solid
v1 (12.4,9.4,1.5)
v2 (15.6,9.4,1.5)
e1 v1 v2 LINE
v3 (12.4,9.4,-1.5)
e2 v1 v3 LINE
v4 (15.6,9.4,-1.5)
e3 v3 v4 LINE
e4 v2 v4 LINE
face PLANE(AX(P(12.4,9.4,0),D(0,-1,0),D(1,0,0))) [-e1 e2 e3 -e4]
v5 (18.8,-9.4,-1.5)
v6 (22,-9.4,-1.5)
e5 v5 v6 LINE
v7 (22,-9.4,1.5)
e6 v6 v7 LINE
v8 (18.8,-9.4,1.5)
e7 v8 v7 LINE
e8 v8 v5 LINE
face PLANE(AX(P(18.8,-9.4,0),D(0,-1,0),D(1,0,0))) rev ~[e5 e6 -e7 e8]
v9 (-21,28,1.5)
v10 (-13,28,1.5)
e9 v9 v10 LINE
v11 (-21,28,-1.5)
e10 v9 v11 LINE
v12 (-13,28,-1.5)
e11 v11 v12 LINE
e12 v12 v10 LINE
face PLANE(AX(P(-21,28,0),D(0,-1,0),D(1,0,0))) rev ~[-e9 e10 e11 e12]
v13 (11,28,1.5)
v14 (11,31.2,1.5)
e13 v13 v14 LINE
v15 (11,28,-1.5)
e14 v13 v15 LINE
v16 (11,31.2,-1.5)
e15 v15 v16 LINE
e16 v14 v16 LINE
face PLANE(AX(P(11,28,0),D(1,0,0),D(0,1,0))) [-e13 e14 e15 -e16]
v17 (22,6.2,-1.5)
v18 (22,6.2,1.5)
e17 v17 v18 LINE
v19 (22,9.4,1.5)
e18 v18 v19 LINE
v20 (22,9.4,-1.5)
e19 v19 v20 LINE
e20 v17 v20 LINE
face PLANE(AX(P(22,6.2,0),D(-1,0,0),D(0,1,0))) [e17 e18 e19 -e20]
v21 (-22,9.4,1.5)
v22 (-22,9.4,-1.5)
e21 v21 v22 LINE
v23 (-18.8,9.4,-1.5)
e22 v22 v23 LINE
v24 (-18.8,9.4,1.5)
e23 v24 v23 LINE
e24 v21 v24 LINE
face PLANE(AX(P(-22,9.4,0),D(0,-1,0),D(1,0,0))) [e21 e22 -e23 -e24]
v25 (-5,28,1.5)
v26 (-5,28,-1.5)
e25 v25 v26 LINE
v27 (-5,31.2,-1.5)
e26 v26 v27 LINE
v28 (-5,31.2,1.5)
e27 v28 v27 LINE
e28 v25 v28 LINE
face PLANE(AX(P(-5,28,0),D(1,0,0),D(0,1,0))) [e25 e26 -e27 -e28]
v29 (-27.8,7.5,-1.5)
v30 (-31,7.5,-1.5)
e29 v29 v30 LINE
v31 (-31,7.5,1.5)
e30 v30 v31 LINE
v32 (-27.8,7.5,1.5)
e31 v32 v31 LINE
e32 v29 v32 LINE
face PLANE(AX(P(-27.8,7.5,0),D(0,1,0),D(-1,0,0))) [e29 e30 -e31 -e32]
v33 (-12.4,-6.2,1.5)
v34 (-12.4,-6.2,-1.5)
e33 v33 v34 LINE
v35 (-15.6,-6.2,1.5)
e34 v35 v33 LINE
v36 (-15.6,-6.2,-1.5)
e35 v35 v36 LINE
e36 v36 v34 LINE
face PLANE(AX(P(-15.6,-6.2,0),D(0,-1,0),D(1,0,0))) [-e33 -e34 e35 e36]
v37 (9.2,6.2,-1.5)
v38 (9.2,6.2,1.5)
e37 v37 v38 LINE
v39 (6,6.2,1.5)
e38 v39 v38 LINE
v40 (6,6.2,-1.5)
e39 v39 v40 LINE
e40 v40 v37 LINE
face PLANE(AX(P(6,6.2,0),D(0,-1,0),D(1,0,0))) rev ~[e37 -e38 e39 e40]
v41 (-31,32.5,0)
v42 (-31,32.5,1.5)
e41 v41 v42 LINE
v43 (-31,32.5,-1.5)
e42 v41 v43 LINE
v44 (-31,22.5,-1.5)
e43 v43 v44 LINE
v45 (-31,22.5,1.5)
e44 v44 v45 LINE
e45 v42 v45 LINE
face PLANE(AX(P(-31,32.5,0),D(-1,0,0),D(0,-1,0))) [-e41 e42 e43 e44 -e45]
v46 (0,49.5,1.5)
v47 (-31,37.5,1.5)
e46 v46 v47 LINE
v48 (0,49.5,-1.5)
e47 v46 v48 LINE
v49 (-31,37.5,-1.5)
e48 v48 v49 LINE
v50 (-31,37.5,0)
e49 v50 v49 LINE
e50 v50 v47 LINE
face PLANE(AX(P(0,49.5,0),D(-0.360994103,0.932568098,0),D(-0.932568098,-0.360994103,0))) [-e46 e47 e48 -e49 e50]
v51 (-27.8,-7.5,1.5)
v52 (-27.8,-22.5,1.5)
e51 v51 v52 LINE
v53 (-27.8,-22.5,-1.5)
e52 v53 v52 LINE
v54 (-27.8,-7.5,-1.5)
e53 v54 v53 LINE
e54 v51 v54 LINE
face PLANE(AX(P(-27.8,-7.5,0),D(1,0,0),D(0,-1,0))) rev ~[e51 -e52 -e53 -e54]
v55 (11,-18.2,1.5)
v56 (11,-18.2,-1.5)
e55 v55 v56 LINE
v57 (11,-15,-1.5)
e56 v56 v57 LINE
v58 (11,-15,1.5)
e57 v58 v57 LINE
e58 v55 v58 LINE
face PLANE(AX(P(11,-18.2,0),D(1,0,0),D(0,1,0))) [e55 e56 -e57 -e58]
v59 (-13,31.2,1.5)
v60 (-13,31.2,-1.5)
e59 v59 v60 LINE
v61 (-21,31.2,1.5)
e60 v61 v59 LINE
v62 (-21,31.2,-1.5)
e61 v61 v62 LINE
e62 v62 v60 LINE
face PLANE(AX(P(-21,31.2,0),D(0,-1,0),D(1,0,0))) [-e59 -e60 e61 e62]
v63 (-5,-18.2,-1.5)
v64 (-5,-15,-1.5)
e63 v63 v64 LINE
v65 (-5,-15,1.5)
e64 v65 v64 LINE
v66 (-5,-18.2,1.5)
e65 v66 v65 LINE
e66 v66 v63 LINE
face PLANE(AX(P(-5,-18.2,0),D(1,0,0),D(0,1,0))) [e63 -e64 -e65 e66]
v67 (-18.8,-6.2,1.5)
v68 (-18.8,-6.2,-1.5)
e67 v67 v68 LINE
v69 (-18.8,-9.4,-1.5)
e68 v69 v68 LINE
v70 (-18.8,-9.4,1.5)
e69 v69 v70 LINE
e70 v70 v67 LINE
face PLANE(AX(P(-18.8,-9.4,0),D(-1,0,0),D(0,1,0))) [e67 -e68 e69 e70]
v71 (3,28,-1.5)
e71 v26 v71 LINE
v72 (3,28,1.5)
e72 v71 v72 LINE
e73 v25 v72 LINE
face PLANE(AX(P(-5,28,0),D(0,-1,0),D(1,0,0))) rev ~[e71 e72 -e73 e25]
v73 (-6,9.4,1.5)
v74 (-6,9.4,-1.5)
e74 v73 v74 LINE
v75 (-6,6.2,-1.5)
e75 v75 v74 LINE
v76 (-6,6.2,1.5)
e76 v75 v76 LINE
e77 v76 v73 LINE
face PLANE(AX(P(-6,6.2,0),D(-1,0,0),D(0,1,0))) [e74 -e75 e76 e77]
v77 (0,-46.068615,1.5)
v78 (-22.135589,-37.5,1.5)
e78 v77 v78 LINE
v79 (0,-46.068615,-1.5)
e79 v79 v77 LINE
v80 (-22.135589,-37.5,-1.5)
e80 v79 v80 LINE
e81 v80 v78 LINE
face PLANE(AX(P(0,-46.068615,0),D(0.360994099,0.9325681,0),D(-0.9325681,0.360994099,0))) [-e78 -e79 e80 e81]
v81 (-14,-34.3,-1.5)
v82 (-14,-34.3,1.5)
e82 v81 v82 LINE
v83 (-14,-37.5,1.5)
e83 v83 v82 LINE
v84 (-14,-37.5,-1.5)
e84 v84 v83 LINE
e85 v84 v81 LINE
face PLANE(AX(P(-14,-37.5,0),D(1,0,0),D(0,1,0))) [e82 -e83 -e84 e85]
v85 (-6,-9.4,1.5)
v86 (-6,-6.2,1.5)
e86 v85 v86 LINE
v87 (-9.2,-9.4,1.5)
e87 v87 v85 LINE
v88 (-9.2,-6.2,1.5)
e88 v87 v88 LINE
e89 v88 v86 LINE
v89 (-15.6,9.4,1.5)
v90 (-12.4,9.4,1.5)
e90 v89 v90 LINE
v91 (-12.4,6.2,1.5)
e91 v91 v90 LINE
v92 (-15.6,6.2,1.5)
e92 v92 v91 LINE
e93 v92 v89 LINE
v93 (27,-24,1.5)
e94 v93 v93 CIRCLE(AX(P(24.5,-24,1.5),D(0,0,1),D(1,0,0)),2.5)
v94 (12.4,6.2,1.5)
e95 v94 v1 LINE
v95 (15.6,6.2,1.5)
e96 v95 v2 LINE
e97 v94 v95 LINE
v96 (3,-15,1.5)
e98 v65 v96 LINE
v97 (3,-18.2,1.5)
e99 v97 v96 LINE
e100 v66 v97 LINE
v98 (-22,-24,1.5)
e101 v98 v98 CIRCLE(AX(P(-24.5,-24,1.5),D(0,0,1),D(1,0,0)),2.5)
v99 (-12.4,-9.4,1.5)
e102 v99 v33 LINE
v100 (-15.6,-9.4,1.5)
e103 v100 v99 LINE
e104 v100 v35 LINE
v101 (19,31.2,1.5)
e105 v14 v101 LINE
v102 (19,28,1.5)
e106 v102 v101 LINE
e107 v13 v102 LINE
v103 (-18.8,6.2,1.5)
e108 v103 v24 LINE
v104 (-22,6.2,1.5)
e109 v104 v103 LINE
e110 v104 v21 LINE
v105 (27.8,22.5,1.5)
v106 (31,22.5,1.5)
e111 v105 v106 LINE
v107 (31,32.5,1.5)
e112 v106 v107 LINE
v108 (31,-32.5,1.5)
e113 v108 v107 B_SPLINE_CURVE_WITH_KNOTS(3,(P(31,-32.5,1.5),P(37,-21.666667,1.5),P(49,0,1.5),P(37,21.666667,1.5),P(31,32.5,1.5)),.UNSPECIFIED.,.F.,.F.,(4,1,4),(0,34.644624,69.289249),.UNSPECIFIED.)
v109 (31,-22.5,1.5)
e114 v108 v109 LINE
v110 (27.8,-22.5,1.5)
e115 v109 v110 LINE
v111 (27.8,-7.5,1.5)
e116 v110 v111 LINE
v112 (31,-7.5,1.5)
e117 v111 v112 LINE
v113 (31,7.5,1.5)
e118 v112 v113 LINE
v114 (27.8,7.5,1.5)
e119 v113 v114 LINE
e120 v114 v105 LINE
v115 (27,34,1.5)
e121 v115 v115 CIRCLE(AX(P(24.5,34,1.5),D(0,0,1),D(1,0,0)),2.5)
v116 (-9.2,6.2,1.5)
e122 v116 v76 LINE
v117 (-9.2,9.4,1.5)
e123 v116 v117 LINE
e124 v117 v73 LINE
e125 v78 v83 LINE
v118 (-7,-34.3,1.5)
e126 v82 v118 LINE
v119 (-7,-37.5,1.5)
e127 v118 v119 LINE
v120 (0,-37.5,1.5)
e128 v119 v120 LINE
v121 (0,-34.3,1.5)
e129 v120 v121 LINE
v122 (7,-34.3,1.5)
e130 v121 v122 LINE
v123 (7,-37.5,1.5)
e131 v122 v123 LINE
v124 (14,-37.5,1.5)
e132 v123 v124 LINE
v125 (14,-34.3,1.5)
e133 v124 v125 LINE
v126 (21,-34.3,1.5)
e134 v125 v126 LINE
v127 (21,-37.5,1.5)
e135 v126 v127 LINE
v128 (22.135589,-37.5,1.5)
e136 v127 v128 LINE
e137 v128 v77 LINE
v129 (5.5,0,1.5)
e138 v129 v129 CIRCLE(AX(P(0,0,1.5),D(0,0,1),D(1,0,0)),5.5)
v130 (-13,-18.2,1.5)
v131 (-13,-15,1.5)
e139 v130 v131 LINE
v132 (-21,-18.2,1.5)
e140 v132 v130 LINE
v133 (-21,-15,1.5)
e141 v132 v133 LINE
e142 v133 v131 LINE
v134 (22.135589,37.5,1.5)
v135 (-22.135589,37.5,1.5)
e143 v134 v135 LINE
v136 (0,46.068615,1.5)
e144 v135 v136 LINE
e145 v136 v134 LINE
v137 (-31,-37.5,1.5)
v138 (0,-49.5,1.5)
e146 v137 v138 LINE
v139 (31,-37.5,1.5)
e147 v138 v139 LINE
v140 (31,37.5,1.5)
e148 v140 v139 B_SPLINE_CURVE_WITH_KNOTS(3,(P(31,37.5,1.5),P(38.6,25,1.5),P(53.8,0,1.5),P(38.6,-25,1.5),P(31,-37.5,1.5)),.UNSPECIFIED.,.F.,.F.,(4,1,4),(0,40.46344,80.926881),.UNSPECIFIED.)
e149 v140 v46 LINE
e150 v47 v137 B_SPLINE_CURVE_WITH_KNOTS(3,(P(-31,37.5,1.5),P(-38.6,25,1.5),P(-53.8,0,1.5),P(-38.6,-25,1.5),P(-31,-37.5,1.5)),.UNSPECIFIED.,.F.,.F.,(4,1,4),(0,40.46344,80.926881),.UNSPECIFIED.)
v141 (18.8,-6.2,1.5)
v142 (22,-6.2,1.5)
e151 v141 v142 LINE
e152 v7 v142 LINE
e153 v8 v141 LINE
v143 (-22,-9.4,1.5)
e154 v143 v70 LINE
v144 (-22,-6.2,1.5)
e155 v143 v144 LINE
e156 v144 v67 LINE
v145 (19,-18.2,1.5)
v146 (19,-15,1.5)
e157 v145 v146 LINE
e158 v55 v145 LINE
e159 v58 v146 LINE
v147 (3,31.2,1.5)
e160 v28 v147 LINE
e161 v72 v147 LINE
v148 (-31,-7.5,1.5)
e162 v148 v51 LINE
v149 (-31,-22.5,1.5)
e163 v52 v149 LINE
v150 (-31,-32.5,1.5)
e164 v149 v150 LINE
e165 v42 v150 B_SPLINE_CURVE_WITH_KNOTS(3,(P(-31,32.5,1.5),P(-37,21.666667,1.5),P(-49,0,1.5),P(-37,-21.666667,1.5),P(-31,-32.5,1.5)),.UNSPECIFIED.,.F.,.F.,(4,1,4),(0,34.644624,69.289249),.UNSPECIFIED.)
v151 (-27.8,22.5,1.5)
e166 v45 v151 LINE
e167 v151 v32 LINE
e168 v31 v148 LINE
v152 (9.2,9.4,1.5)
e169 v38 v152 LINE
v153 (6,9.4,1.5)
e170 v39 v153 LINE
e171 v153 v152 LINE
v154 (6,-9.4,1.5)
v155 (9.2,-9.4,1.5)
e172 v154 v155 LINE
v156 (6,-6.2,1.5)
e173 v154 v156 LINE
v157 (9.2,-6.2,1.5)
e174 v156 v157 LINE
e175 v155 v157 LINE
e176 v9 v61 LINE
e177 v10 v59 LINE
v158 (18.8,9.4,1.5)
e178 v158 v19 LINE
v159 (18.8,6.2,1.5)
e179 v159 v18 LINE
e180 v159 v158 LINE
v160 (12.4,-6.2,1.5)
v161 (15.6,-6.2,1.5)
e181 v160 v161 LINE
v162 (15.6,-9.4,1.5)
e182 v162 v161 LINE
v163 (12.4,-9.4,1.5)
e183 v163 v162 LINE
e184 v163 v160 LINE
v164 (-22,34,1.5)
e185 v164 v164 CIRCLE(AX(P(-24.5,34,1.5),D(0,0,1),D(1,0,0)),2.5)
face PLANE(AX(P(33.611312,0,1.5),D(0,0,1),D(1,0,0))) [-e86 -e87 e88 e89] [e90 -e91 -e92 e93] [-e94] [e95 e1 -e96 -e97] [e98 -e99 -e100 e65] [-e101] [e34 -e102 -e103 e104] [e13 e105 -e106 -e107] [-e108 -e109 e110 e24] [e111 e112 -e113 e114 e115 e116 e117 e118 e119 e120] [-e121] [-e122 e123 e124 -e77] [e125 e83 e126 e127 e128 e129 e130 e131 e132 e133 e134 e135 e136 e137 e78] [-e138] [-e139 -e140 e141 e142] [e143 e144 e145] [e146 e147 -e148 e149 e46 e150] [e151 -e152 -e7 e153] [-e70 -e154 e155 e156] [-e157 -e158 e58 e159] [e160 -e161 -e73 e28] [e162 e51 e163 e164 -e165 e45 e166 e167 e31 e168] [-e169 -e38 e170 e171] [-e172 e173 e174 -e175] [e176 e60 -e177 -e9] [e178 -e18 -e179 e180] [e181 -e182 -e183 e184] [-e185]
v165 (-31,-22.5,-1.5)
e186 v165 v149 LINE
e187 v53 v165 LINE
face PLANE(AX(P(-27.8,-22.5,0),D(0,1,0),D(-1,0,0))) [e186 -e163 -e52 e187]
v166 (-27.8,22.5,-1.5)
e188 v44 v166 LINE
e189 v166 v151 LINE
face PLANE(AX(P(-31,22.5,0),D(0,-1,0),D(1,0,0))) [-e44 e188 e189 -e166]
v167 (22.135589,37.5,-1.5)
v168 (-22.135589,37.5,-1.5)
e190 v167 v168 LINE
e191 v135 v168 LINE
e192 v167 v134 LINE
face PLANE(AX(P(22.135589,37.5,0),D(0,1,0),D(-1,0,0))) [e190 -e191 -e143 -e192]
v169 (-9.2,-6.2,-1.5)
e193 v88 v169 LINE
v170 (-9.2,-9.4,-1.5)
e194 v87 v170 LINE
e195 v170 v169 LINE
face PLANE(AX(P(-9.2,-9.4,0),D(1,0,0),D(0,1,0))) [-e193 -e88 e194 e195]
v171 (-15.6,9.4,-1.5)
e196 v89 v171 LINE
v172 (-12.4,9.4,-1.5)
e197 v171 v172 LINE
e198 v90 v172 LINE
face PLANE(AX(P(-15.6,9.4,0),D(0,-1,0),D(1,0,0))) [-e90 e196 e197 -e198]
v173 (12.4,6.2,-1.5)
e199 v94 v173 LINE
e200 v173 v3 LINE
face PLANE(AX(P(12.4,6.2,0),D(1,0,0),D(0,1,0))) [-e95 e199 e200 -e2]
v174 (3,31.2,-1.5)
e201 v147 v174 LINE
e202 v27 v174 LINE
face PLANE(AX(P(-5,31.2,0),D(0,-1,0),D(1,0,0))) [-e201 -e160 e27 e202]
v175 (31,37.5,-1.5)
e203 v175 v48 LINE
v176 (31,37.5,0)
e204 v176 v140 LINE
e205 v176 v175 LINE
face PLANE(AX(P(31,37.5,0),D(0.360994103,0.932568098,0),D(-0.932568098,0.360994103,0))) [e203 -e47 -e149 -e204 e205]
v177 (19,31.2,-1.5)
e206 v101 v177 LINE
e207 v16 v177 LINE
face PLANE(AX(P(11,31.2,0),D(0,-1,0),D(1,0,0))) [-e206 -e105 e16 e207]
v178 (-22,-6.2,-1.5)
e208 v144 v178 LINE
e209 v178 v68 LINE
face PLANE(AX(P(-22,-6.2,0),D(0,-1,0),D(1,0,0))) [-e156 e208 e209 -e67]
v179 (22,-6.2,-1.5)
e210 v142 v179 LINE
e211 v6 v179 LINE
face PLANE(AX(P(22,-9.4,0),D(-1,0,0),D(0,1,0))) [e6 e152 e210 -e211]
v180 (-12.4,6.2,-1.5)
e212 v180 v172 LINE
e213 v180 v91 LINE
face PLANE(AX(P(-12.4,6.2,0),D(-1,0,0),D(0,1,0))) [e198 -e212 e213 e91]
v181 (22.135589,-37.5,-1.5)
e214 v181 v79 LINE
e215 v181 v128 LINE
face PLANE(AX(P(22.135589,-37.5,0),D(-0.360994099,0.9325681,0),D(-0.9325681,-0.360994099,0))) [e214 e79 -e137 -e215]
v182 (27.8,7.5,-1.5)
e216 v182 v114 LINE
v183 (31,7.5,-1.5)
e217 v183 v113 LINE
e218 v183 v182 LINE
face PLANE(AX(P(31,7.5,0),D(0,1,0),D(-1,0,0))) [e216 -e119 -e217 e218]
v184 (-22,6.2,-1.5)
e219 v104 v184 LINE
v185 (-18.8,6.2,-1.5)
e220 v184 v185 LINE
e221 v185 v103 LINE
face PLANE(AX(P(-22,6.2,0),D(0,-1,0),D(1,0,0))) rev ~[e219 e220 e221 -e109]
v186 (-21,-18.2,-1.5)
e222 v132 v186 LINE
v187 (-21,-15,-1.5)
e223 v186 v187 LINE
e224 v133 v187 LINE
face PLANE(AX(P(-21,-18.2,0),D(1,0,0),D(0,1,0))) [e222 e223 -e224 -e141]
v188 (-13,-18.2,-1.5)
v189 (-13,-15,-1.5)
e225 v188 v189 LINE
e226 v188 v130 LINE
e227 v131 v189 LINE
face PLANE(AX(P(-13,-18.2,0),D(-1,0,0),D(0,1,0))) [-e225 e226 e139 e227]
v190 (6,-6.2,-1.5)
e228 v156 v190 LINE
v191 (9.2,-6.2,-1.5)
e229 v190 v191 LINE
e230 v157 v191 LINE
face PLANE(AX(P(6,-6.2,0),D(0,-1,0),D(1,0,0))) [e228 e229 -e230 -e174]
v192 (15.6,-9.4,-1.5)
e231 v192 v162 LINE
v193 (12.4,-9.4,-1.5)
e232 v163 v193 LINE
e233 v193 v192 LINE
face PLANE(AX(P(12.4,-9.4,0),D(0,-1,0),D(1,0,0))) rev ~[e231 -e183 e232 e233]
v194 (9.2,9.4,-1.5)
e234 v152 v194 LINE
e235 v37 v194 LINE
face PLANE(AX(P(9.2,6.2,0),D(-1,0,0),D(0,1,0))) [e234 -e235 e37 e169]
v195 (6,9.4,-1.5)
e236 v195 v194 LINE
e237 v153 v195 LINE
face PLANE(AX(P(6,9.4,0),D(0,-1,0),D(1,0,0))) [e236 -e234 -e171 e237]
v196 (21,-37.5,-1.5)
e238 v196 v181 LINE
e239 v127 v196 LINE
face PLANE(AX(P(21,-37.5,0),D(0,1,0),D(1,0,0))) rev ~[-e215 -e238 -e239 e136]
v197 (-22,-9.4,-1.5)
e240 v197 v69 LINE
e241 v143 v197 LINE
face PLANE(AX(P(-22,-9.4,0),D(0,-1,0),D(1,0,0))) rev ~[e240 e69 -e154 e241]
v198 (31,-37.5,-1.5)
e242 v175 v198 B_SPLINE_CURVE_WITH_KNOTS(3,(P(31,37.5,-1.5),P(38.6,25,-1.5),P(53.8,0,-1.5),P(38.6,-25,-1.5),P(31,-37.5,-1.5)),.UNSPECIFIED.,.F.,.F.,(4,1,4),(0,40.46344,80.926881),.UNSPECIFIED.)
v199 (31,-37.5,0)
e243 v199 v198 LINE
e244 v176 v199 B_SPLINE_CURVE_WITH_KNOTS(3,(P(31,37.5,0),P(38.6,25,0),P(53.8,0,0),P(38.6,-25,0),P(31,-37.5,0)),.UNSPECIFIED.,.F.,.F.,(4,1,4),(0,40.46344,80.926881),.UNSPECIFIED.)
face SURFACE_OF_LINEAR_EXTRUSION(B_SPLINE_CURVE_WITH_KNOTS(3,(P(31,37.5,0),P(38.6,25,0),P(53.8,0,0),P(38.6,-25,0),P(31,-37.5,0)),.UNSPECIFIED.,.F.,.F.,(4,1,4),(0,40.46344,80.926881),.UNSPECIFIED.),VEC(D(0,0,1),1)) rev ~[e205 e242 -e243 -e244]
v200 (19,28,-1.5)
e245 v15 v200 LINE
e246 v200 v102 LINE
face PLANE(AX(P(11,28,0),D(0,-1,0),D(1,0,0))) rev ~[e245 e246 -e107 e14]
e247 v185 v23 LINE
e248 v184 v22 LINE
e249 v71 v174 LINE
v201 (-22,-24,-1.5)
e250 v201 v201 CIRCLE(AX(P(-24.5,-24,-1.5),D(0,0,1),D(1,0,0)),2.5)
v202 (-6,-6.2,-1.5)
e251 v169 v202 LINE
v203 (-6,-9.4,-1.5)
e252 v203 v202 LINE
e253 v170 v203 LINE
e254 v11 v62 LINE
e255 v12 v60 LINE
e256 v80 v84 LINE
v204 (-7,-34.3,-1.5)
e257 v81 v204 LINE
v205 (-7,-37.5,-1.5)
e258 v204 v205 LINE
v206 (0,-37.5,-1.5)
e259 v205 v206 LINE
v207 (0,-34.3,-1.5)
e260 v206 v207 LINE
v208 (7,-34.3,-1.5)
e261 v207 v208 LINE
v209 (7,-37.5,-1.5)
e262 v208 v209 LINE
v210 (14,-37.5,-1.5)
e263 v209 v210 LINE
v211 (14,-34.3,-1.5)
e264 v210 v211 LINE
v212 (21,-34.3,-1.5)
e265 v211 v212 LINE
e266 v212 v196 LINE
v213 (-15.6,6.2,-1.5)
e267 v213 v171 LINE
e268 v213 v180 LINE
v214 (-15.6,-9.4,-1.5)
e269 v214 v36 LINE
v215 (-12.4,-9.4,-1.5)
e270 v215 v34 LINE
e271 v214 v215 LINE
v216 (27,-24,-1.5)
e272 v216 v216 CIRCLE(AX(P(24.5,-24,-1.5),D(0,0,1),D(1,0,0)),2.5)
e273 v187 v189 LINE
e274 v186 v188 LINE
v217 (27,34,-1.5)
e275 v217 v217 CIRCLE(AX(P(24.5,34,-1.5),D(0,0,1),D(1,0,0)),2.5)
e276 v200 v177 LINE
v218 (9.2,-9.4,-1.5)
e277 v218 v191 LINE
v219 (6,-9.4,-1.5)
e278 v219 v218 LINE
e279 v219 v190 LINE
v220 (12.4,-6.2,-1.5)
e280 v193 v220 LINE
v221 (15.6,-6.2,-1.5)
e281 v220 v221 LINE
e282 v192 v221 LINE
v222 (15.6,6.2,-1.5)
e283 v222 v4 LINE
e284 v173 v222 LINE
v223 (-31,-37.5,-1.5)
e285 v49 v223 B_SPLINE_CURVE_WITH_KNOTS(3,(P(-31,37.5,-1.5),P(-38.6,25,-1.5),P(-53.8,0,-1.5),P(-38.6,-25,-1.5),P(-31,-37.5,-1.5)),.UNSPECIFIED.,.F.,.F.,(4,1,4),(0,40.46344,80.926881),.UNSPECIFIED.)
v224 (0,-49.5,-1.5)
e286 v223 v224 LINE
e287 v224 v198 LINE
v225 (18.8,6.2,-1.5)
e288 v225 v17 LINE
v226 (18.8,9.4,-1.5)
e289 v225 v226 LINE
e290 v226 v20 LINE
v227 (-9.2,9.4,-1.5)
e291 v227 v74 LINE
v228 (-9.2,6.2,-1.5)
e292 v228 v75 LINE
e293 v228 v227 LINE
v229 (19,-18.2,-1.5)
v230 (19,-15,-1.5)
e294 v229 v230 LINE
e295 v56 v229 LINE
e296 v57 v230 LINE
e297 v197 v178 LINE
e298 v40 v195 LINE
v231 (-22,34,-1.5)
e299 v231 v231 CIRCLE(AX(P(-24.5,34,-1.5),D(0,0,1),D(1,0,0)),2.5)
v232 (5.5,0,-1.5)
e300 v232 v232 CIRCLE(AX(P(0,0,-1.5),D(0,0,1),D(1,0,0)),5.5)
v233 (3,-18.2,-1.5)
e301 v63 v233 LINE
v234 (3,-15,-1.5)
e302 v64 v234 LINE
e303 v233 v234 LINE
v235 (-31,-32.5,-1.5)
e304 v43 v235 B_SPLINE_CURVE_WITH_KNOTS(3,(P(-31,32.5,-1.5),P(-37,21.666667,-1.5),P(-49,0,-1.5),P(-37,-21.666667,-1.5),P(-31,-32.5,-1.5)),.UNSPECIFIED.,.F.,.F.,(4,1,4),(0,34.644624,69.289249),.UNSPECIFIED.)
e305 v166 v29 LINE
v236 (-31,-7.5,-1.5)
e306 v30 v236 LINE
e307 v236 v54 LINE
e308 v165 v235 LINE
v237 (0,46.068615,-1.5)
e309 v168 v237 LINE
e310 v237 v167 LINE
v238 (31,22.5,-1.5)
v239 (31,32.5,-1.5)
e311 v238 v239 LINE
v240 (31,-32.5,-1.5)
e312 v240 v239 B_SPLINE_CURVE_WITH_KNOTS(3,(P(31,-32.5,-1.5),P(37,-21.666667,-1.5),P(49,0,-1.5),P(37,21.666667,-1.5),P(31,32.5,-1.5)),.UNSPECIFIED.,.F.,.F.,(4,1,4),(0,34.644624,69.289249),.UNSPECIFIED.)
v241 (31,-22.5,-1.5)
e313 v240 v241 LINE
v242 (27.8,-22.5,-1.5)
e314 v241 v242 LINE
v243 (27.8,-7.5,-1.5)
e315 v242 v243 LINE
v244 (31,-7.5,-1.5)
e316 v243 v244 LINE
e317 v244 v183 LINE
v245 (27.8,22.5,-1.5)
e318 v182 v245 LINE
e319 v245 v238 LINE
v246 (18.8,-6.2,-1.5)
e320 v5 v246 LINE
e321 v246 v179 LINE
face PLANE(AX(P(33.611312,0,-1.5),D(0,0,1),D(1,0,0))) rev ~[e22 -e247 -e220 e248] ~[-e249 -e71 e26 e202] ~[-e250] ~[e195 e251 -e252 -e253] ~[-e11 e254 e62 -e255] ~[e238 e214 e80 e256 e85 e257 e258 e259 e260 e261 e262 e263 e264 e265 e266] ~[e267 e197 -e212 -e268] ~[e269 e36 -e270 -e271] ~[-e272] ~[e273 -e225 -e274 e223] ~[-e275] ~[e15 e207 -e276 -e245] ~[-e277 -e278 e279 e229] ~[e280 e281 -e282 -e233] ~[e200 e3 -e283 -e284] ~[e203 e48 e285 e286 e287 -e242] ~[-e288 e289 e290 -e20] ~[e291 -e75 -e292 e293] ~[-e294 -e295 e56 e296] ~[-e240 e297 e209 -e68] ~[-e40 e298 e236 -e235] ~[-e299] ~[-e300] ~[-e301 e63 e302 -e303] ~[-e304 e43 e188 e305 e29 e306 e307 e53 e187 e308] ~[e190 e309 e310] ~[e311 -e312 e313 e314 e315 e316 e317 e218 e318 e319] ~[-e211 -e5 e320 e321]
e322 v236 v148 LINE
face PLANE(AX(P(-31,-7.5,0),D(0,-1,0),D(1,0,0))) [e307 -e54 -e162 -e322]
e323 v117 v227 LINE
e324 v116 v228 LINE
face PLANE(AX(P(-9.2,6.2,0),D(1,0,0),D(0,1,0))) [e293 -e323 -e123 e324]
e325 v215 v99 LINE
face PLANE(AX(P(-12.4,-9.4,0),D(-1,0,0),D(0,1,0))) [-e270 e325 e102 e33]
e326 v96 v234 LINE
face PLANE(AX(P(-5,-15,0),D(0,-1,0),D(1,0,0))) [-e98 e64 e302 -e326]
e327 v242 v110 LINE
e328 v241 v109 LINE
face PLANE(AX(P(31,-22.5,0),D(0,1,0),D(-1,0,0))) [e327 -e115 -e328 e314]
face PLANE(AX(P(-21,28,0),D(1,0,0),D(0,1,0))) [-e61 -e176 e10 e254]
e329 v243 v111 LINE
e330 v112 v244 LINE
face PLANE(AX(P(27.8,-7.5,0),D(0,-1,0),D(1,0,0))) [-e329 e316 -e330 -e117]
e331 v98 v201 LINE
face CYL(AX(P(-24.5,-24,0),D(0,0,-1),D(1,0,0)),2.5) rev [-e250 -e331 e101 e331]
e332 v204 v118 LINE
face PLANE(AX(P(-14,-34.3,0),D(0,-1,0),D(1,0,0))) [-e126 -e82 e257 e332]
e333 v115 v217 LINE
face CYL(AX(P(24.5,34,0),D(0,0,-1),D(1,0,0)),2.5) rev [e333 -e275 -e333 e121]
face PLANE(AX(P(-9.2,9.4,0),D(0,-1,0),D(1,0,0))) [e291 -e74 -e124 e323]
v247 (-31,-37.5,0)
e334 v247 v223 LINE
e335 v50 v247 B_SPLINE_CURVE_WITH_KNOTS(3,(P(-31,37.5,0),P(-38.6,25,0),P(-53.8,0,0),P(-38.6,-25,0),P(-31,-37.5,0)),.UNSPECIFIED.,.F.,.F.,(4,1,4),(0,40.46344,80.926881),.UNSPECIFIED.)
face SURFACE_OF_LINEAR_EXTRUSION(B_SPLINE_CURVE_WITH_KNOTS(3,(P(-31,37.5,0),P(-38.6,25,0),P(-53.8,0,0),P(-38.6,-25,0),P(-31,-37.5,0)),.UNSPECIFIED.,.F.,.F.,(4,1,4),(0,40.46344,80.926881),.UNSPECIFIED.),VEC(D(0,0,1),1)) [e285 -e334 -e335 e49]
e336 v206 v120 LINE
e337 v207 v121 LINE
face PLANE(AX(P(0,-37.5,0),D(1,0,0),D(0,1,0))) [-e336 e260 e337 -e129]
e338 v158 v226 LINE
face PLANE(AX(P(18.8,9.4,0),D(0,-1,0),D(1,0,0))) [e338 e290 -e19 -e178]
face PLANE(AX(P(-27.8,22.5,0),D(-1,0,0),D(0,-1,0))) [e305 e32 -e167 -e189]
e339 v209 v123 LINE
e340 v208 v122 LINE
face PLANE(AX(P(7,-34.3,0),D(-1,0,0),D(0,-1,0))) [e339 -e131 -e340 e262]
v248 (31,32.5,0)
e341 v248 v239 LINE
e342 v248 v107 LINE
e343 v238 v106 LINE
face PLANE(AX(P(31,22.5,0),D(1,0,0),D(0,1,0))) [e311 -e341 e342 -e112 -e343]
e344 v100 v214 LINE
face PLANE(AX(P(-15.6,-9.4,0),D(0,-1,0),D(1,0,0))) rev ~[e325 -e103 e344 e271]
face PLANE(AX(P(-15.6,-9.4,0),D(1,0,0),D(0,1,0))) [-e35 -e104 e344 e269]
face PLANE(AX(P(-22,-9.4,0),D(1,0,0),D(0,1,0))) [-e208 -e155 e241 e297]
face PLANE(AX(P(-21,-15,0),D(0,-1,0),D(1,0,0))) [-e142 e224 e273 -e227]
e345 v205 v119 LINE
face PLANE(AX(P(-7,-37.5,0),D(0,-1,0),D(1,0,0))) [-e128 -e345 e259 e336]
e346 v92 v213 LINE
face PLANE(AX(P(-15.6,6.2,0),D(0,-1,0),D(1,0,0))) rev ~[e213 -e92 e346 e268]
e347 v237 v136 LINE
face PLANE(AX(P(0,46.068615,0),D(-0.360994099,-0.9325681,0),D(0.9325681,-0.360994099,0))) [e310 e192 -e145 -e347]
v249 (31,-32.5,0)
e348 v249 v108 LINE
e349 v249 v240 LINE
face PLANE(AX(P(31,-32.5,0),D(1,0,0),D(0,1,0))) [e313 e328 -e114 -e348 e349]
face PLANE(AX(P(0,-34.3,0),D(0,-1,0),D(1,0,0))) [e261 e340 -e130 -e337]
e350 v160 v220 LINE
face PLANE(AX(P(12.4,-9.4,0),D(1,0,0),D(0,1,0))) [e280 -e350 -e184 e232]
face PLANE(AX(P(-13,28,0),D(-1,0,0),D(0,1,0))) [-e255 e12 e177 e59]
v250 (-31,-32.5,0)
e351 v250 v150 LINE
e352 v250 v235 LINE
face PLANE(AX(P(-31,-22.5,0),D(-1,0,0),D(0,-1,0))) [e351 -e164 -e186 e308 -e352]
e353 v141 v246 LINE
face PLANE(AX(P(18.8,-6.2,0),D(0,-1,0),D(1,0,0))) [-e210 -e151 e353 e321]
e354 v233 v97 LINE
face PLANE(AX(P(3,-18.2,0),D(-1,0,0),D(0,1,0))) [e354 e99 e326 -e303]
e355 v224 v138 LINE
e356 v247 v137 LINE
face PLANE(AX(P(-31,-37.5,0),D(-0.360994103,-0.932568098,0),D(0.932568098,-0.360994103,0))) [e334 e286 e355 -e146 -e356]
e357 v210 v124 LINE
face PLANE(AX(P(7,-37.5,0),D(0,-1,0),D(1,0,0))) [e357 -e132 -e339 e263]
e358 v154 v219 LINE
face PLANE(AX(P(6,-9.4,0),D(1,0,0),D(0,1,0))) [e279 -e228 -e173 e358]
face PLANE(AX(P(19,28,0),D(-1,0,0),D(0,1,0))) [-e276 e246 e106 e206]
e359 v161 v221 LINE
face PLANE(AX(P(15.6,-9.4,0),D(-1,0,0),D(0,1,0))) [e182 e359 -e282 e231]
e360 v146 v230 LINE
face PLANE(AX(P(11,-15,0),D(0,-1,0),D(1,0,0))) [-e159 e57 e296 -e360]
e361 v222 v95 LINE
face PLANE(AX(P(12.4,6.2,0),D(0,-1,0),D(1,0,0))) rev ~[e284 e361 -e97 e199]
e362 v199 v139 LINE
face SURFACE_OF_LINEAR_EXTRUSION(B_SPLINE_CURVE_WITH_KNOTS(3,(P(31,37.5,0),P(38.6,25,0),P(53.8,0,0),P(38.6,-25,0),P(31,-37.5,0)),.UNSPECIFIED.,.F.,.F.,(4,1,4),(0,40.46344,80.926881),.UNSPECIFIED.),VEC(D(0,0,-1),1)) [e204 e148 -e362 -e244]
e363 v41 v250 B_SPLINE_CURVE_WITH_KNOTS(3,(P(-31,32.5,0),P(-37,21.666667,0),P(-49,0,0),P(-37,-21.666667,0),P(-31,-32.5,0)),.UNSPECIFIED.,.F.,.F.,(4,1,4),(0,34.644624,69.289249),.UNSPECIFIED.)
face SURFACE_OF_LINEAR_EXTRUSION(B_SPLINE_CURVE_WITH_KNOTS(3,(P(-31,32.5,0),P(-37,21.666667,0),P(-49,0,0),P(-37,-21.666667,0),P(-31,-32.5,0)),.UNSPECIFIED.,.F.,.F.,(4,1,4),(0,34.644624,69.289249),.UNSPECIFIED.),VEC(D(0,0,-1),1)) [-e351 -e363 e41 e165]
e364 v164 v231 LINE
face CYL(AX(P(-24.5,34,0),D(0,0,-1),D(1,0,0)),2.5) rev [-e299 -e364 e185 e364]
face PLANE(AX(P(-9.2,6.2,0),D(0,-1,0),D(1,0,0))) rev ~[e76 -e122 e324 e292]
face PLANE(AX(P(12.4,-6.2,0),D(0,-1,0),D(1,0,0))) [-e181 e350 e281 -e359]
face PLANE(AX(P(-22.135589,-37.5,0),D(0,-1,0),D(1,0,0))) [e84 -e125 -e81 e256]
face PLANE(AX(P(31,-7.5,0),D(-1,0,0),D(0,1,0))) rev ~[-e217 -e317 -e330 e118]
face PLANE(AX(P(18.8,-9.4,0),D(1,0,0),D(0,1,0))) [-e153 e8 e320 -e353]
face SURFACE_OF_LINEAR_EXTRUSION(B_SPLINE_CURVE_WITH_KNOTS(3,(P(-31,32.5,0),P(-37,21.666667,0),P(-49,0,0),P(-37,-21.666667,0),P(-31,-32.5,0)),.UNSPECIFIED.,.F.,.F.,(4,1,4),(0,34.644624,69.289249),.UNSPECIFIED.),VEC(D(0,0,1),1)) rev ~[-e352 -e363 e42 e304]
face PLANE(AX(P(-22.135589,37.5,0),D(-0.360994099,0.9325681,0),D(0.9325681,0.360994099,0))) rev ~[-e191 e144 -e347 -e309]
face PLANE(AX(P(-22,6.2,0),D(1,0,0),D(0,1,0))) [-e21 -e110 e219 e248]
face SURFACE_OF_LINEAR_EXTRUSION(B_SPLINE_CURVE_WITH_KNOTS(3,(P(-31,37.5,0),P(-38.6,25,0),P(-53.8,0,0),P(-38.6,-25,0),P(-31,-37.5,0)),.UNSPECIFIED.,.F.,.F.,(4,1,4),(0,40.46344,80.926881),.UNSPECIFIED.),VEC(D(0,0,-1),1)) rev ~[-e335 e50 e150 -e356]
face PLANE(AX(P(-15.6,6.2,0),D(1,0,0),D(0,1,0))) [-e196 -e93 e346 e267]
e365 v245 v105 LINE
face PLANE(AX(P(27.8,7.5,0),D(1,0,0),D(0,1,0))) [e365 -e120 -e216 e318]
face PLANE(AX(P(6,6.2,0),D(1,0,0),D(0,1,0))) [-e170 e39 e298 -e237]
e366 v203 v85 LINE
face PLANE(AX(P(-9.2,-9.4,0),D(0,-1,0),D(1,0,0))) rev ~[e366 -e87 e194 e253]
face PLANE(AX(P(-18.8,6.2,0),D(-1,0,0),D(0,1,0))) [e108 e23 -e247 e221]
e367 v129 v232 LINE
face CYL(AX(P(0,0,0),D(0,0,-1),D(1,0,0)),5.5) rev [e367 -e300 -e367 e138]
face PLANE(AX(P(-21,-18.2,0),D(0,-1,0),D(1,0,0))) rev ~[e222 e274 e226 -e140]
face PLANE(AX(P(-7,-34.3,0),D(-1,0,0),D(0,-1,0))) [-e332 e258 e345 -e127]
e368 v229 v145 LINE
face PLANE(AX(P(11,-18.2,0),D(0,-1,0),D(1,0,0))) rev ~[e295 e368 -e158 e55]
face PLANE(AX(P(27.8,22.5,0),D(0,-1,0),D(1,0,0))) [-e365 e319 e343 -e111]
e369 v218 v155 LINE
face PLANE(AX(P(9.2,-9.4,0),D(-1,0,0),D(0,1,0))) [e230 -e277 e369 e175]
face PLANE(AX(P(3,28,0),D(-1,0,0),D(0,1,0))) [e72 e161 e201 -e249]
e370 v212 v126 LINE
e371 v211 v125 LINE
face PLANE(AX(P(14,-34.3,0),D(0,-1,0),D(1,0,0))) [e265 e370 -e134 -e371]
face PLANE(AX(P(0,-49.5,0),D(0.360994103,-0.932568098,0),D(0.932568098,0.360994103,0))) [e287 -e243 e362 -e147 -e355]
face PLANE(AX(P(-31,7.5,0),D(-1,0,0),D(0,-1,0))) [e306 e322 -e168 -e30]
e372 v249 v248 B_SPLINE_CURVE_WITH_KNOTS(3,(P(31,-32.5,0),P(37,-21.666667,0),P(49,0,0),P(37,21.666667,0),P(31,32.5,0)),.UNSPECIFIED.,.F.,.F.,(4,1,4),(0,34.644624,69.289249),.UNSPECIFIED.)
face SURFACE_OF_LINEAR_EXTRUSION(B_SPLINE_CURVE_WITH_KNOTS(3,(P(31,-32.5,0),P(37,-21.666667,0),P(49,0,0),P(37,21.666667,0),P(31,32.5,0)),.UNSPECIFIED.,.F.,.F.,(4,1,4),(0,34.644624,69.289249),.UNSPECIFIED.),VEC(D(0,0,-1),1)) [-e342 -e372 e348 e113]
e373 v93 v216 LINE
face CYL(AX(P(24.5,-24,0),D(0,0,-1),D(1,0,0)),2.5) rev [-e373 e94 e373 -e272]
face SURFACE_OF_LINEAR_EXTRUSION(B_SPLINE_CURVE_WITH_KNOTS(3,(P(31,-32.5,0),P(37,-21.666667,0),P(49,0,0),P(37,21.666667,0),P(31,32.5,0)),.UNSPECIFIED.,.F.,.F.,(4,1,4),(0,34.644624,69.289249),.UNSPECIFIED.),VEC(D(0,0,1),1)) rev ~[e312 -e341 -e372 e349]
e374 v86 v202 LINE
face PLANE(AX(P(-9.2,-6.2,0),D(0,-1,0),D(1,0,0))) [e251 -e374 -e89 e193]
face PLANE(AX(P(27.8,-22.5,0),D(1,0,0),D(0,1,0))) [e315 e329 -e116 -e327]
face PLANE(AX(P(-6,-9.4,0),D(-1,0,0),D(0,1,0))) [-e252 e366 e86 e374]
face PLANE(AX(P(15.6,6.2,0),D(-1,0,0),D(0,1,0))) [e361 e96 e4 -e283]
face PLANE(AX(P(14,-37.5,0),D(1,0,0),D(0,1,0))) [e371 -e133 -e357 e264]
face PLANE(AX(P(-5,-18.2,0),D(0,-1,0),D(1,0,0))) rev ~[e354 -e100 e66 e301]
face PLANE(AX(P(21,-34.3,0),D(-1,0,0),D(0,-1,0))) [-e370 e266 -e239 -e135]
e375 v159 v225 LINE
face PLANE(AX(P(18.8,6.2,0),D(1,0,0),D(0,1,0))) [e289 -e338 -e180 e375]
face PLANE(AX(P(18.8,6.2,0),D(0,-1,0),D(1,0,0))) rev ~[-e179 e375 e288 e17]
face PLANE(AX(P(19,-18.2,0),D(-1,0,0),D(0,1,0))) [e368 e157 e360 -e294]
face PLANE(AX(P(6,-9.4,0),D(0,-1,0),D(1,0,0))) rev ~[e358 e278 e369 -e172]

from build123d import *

# Parameters (mm, degrees)
F0_R     = 2.5
F0_W     = 8
F0_H     = 3.2
F0_W_2   = 3.2
F0_R_2   = 5.5
F1_DEPTH = 1.5


with BuildPart() as f1:
    # F0 (on Top) → F1 (new body, symmetric)
    with BuildSketch(Plane.XY):
        with BuildLine():
            Line((31, 22.5), (27.8, 22.5))
            Line((27.8, 22.5), (27.8, 7.5))
            Line((27.8, 7.5), (31, 7.5))
            Line((31, 7.5), (31, -7.5))
            Line((31, -7.5), (27.8, -7.5))
            Line((27.8, -7.5), (27.8, -22.5))
            Line((27.8, -22.5), (31, -22.5))
            Line((31, -22.5), (31, -32.5))
            add(Edge.make_bspline(
                [(31, -32.5), (37, -21.666667), (49, 0), (37, 21.666667), (31, 32.5)],
                knots=[0, 0, 0, 0, 34.644624, 69.289249, 69.289249, 69.289249, 69.289249], degree=3))
            Line((31, 32.5), (31, 22.5))
        make_face()
        with BuildLine():
            Line((0, 49.5), (-31, 37.5))
            add(Edge.make_bspline(
                [(-31, 37.5), (-38.6, 25), (-53.8, 0), (-38.6, -25), (-31, -37.5)],
                knots=[0, 0, 0, 0, 40.46344, 80.926881, 80.926881, 80.926881, 80.926881], degree=3))
            Line((-31, -37.5), (0, -49.5))
            Line((0, -49.5), (31, -37.5))
            add(Edge.make_bspline(
                [(31, 37.5), (38.6, 25), (53.8, 0), (38.6, -25), (31, -37.5)],
                knots=[0, 0, 0, 0, 40.46344, 80.926881, 80.926881, 80.926881, 80.926881], degree=3))
            Line((31, 37.5), (0, 49.5))
        make_face()
        with Locations((-24.5, -24)):
            Circle(F0_R, mode=Mode.SUBTRACT)
        with Locations((-17, -16.6)):
            Rectangle(F0_W, F0_H, mode=Mode.SUBTRACT)
        with Locations((-1, -16.6)):
            Rectangle(F0_W, F0_H, mode=Mode.SUBTRACT)
        with Locations((-20.4, -7.8)):
            Rectangle(F0_W_2, F0_H, mode=Mode.SUBTRACT)
        with Locations((-14, -7.8)):
            Rectangle(F0_W_2, F0_H, mode=Mode.SUBTRACT)
        with Locations((-7.6, -7.8)):
            Rectangle(F0_W_2, F0_H, mode=Mode.SUBTRACT)
        Polygon((0, -46.068615), (-22.135589, -37.5), (-21, -37.5), (-14, -37.5), (-14, -34.3), (-7, -34.3), (-7, -37.5), (0, -37.5), (0, -34.3), (7, -34.3), (7, -37.5), (14, -37.5), (14, -34.3), (21, -34.3), (21, -37.5), (22.135589, -37.5), align=None, mode=Mode.SUBTRACT)
        with Locations((24.5, -24)):
            Circle(F0_R, mode=Mode.SUBTRACT)
        with Locations((15, -16.6)):
            Rectangle(F0_W, F0_H, mode=Mode.SUBTRACT)
        with Locations((7.6, -7.8)):
            Rectangle(F0_W_2, F0_H, mode=Mode.SUBTRACT)
        with Locations((14, -7.8)):
            Rectangle(F0_W_2, F0_H, mode=Mode.SUBTRACT)
        with Locations((20.4, -7.8)):
            Rectangle(F0_W_2, F0_H, mode=Mode.SUBTRACT)
        with BuildLine():
            Line((-31, -22.5), (-31, -32.5))
            add(Edge.make_bspline(
                [(-31, 32.5), (-37, 21.666667), (-49, 0), (-37, -21.666667), (-31, -32.5)],
                knots=[0, 0, 0, 0, 34.644624, 69.289249, 69.289249, 69.289249, 69.289249], degree=3))
            Line((-31, 32.5), (-31, 22.5))
            Line((-31, 22.5), (-27.8, 22.5))
            Line((-27.8, 22.5), (-27.8, 7.5))
            Line((-27.8, 7.5), (-31, 7.5))
            Line((-31, 7.5), (-31, -7.5))
            Line((-31, -7.5), (-27.8, -7.5))
            Line((-27.8, -7.5), (-27.8, -22.5))
            Line((-27.8, -22.5), (-31, -22.5))
        make_face(mode=Mode.SUBTRACT)
        with Locations((-20.4, 7.8)):
            Rectangle(F0_W_2, F0_H, mode=Mode.SUBTRACT)
        with Locations((-14, 7.8)):
            Rectangle(F0_W_2, F0_H, mode=Mode.SUBTRACT)
        with Locations((-7.6, 7.8)):
            Rectangle(F0_W_2, F0_H, mode=Mode.SUBTRACT)
        with Locations((-17, 29.6)):
            Rectangle(F0_W, F0_H, mode=Mode.SUBTRACT)
        with Locations((-24.5, 34)):
            Circle(F0_R, mode=Mode.SUBTRACT)
        with Locations((-1, 29.6)):
            Rectangle(F0_W, F0_H, mode=Mode.SUBTRACT)
        Circle(F0_R_2, mode=Mode.SUBTRACT)
        with Locations((7.6, 7.8)):
            Rectangle(F0_W_2, F0_H, mode=Mode.SUBTRACT)
        with Locations((14, 7.8)):
            Rectangle(F0_W_2, F0_H, mode=Mode.SUBTRACT)
        with Locations((20.4, 7.8)):
            Rectangle(F0_W_2, F0_H, mode=Mode.SUBTRACT)
        with BuildLine():
            Line((27.8, 7.5), (27.8, 22.5))
            Line((27.8, 22.5), (31, 22.5))
            Line((31, 22.5), (31, 32.5))
            add(Edge.make_bspline(
                [(31, -32.5), (37, -21.666667), (49, 0), (37, 21.666667), (31, 32.5)],
                knots=[0, 0, 0, 0, 34.644624, 69.289249, 69.289249, 69.289249, 69.289249], degree=3))
            Line((31, -32.5), (31, -22.5))
            Line((31, -22.5), (27.8, -22.5))
            Line((27.8, -22.5), (27.8, -7.5))
            Line((27.8, -7.5), (31, -7.5))
            Line((31, -7.5), (31, 7.5))
            Line((31, 7.5), (27.8, 7.5))
        make_face(mode=Mode.SUBTRACT)
        with Locations((15, 29.6)):
            Rectangle(F0_W, F0_H, mode=Mode.SUBTRACT)
        with Locations((24.5, 34)):
            Circle(F0_R, mode=Mode.SUBTRACT)
        Polygon((22.135589, 37.5), (0, 37.5), (-22.135589, 37.5), (0, 46.068615), align=None, mode=Mode.SUBTRACT)
    extrude(amount=F1_DEPTH, both=True)


solid = f1.part
